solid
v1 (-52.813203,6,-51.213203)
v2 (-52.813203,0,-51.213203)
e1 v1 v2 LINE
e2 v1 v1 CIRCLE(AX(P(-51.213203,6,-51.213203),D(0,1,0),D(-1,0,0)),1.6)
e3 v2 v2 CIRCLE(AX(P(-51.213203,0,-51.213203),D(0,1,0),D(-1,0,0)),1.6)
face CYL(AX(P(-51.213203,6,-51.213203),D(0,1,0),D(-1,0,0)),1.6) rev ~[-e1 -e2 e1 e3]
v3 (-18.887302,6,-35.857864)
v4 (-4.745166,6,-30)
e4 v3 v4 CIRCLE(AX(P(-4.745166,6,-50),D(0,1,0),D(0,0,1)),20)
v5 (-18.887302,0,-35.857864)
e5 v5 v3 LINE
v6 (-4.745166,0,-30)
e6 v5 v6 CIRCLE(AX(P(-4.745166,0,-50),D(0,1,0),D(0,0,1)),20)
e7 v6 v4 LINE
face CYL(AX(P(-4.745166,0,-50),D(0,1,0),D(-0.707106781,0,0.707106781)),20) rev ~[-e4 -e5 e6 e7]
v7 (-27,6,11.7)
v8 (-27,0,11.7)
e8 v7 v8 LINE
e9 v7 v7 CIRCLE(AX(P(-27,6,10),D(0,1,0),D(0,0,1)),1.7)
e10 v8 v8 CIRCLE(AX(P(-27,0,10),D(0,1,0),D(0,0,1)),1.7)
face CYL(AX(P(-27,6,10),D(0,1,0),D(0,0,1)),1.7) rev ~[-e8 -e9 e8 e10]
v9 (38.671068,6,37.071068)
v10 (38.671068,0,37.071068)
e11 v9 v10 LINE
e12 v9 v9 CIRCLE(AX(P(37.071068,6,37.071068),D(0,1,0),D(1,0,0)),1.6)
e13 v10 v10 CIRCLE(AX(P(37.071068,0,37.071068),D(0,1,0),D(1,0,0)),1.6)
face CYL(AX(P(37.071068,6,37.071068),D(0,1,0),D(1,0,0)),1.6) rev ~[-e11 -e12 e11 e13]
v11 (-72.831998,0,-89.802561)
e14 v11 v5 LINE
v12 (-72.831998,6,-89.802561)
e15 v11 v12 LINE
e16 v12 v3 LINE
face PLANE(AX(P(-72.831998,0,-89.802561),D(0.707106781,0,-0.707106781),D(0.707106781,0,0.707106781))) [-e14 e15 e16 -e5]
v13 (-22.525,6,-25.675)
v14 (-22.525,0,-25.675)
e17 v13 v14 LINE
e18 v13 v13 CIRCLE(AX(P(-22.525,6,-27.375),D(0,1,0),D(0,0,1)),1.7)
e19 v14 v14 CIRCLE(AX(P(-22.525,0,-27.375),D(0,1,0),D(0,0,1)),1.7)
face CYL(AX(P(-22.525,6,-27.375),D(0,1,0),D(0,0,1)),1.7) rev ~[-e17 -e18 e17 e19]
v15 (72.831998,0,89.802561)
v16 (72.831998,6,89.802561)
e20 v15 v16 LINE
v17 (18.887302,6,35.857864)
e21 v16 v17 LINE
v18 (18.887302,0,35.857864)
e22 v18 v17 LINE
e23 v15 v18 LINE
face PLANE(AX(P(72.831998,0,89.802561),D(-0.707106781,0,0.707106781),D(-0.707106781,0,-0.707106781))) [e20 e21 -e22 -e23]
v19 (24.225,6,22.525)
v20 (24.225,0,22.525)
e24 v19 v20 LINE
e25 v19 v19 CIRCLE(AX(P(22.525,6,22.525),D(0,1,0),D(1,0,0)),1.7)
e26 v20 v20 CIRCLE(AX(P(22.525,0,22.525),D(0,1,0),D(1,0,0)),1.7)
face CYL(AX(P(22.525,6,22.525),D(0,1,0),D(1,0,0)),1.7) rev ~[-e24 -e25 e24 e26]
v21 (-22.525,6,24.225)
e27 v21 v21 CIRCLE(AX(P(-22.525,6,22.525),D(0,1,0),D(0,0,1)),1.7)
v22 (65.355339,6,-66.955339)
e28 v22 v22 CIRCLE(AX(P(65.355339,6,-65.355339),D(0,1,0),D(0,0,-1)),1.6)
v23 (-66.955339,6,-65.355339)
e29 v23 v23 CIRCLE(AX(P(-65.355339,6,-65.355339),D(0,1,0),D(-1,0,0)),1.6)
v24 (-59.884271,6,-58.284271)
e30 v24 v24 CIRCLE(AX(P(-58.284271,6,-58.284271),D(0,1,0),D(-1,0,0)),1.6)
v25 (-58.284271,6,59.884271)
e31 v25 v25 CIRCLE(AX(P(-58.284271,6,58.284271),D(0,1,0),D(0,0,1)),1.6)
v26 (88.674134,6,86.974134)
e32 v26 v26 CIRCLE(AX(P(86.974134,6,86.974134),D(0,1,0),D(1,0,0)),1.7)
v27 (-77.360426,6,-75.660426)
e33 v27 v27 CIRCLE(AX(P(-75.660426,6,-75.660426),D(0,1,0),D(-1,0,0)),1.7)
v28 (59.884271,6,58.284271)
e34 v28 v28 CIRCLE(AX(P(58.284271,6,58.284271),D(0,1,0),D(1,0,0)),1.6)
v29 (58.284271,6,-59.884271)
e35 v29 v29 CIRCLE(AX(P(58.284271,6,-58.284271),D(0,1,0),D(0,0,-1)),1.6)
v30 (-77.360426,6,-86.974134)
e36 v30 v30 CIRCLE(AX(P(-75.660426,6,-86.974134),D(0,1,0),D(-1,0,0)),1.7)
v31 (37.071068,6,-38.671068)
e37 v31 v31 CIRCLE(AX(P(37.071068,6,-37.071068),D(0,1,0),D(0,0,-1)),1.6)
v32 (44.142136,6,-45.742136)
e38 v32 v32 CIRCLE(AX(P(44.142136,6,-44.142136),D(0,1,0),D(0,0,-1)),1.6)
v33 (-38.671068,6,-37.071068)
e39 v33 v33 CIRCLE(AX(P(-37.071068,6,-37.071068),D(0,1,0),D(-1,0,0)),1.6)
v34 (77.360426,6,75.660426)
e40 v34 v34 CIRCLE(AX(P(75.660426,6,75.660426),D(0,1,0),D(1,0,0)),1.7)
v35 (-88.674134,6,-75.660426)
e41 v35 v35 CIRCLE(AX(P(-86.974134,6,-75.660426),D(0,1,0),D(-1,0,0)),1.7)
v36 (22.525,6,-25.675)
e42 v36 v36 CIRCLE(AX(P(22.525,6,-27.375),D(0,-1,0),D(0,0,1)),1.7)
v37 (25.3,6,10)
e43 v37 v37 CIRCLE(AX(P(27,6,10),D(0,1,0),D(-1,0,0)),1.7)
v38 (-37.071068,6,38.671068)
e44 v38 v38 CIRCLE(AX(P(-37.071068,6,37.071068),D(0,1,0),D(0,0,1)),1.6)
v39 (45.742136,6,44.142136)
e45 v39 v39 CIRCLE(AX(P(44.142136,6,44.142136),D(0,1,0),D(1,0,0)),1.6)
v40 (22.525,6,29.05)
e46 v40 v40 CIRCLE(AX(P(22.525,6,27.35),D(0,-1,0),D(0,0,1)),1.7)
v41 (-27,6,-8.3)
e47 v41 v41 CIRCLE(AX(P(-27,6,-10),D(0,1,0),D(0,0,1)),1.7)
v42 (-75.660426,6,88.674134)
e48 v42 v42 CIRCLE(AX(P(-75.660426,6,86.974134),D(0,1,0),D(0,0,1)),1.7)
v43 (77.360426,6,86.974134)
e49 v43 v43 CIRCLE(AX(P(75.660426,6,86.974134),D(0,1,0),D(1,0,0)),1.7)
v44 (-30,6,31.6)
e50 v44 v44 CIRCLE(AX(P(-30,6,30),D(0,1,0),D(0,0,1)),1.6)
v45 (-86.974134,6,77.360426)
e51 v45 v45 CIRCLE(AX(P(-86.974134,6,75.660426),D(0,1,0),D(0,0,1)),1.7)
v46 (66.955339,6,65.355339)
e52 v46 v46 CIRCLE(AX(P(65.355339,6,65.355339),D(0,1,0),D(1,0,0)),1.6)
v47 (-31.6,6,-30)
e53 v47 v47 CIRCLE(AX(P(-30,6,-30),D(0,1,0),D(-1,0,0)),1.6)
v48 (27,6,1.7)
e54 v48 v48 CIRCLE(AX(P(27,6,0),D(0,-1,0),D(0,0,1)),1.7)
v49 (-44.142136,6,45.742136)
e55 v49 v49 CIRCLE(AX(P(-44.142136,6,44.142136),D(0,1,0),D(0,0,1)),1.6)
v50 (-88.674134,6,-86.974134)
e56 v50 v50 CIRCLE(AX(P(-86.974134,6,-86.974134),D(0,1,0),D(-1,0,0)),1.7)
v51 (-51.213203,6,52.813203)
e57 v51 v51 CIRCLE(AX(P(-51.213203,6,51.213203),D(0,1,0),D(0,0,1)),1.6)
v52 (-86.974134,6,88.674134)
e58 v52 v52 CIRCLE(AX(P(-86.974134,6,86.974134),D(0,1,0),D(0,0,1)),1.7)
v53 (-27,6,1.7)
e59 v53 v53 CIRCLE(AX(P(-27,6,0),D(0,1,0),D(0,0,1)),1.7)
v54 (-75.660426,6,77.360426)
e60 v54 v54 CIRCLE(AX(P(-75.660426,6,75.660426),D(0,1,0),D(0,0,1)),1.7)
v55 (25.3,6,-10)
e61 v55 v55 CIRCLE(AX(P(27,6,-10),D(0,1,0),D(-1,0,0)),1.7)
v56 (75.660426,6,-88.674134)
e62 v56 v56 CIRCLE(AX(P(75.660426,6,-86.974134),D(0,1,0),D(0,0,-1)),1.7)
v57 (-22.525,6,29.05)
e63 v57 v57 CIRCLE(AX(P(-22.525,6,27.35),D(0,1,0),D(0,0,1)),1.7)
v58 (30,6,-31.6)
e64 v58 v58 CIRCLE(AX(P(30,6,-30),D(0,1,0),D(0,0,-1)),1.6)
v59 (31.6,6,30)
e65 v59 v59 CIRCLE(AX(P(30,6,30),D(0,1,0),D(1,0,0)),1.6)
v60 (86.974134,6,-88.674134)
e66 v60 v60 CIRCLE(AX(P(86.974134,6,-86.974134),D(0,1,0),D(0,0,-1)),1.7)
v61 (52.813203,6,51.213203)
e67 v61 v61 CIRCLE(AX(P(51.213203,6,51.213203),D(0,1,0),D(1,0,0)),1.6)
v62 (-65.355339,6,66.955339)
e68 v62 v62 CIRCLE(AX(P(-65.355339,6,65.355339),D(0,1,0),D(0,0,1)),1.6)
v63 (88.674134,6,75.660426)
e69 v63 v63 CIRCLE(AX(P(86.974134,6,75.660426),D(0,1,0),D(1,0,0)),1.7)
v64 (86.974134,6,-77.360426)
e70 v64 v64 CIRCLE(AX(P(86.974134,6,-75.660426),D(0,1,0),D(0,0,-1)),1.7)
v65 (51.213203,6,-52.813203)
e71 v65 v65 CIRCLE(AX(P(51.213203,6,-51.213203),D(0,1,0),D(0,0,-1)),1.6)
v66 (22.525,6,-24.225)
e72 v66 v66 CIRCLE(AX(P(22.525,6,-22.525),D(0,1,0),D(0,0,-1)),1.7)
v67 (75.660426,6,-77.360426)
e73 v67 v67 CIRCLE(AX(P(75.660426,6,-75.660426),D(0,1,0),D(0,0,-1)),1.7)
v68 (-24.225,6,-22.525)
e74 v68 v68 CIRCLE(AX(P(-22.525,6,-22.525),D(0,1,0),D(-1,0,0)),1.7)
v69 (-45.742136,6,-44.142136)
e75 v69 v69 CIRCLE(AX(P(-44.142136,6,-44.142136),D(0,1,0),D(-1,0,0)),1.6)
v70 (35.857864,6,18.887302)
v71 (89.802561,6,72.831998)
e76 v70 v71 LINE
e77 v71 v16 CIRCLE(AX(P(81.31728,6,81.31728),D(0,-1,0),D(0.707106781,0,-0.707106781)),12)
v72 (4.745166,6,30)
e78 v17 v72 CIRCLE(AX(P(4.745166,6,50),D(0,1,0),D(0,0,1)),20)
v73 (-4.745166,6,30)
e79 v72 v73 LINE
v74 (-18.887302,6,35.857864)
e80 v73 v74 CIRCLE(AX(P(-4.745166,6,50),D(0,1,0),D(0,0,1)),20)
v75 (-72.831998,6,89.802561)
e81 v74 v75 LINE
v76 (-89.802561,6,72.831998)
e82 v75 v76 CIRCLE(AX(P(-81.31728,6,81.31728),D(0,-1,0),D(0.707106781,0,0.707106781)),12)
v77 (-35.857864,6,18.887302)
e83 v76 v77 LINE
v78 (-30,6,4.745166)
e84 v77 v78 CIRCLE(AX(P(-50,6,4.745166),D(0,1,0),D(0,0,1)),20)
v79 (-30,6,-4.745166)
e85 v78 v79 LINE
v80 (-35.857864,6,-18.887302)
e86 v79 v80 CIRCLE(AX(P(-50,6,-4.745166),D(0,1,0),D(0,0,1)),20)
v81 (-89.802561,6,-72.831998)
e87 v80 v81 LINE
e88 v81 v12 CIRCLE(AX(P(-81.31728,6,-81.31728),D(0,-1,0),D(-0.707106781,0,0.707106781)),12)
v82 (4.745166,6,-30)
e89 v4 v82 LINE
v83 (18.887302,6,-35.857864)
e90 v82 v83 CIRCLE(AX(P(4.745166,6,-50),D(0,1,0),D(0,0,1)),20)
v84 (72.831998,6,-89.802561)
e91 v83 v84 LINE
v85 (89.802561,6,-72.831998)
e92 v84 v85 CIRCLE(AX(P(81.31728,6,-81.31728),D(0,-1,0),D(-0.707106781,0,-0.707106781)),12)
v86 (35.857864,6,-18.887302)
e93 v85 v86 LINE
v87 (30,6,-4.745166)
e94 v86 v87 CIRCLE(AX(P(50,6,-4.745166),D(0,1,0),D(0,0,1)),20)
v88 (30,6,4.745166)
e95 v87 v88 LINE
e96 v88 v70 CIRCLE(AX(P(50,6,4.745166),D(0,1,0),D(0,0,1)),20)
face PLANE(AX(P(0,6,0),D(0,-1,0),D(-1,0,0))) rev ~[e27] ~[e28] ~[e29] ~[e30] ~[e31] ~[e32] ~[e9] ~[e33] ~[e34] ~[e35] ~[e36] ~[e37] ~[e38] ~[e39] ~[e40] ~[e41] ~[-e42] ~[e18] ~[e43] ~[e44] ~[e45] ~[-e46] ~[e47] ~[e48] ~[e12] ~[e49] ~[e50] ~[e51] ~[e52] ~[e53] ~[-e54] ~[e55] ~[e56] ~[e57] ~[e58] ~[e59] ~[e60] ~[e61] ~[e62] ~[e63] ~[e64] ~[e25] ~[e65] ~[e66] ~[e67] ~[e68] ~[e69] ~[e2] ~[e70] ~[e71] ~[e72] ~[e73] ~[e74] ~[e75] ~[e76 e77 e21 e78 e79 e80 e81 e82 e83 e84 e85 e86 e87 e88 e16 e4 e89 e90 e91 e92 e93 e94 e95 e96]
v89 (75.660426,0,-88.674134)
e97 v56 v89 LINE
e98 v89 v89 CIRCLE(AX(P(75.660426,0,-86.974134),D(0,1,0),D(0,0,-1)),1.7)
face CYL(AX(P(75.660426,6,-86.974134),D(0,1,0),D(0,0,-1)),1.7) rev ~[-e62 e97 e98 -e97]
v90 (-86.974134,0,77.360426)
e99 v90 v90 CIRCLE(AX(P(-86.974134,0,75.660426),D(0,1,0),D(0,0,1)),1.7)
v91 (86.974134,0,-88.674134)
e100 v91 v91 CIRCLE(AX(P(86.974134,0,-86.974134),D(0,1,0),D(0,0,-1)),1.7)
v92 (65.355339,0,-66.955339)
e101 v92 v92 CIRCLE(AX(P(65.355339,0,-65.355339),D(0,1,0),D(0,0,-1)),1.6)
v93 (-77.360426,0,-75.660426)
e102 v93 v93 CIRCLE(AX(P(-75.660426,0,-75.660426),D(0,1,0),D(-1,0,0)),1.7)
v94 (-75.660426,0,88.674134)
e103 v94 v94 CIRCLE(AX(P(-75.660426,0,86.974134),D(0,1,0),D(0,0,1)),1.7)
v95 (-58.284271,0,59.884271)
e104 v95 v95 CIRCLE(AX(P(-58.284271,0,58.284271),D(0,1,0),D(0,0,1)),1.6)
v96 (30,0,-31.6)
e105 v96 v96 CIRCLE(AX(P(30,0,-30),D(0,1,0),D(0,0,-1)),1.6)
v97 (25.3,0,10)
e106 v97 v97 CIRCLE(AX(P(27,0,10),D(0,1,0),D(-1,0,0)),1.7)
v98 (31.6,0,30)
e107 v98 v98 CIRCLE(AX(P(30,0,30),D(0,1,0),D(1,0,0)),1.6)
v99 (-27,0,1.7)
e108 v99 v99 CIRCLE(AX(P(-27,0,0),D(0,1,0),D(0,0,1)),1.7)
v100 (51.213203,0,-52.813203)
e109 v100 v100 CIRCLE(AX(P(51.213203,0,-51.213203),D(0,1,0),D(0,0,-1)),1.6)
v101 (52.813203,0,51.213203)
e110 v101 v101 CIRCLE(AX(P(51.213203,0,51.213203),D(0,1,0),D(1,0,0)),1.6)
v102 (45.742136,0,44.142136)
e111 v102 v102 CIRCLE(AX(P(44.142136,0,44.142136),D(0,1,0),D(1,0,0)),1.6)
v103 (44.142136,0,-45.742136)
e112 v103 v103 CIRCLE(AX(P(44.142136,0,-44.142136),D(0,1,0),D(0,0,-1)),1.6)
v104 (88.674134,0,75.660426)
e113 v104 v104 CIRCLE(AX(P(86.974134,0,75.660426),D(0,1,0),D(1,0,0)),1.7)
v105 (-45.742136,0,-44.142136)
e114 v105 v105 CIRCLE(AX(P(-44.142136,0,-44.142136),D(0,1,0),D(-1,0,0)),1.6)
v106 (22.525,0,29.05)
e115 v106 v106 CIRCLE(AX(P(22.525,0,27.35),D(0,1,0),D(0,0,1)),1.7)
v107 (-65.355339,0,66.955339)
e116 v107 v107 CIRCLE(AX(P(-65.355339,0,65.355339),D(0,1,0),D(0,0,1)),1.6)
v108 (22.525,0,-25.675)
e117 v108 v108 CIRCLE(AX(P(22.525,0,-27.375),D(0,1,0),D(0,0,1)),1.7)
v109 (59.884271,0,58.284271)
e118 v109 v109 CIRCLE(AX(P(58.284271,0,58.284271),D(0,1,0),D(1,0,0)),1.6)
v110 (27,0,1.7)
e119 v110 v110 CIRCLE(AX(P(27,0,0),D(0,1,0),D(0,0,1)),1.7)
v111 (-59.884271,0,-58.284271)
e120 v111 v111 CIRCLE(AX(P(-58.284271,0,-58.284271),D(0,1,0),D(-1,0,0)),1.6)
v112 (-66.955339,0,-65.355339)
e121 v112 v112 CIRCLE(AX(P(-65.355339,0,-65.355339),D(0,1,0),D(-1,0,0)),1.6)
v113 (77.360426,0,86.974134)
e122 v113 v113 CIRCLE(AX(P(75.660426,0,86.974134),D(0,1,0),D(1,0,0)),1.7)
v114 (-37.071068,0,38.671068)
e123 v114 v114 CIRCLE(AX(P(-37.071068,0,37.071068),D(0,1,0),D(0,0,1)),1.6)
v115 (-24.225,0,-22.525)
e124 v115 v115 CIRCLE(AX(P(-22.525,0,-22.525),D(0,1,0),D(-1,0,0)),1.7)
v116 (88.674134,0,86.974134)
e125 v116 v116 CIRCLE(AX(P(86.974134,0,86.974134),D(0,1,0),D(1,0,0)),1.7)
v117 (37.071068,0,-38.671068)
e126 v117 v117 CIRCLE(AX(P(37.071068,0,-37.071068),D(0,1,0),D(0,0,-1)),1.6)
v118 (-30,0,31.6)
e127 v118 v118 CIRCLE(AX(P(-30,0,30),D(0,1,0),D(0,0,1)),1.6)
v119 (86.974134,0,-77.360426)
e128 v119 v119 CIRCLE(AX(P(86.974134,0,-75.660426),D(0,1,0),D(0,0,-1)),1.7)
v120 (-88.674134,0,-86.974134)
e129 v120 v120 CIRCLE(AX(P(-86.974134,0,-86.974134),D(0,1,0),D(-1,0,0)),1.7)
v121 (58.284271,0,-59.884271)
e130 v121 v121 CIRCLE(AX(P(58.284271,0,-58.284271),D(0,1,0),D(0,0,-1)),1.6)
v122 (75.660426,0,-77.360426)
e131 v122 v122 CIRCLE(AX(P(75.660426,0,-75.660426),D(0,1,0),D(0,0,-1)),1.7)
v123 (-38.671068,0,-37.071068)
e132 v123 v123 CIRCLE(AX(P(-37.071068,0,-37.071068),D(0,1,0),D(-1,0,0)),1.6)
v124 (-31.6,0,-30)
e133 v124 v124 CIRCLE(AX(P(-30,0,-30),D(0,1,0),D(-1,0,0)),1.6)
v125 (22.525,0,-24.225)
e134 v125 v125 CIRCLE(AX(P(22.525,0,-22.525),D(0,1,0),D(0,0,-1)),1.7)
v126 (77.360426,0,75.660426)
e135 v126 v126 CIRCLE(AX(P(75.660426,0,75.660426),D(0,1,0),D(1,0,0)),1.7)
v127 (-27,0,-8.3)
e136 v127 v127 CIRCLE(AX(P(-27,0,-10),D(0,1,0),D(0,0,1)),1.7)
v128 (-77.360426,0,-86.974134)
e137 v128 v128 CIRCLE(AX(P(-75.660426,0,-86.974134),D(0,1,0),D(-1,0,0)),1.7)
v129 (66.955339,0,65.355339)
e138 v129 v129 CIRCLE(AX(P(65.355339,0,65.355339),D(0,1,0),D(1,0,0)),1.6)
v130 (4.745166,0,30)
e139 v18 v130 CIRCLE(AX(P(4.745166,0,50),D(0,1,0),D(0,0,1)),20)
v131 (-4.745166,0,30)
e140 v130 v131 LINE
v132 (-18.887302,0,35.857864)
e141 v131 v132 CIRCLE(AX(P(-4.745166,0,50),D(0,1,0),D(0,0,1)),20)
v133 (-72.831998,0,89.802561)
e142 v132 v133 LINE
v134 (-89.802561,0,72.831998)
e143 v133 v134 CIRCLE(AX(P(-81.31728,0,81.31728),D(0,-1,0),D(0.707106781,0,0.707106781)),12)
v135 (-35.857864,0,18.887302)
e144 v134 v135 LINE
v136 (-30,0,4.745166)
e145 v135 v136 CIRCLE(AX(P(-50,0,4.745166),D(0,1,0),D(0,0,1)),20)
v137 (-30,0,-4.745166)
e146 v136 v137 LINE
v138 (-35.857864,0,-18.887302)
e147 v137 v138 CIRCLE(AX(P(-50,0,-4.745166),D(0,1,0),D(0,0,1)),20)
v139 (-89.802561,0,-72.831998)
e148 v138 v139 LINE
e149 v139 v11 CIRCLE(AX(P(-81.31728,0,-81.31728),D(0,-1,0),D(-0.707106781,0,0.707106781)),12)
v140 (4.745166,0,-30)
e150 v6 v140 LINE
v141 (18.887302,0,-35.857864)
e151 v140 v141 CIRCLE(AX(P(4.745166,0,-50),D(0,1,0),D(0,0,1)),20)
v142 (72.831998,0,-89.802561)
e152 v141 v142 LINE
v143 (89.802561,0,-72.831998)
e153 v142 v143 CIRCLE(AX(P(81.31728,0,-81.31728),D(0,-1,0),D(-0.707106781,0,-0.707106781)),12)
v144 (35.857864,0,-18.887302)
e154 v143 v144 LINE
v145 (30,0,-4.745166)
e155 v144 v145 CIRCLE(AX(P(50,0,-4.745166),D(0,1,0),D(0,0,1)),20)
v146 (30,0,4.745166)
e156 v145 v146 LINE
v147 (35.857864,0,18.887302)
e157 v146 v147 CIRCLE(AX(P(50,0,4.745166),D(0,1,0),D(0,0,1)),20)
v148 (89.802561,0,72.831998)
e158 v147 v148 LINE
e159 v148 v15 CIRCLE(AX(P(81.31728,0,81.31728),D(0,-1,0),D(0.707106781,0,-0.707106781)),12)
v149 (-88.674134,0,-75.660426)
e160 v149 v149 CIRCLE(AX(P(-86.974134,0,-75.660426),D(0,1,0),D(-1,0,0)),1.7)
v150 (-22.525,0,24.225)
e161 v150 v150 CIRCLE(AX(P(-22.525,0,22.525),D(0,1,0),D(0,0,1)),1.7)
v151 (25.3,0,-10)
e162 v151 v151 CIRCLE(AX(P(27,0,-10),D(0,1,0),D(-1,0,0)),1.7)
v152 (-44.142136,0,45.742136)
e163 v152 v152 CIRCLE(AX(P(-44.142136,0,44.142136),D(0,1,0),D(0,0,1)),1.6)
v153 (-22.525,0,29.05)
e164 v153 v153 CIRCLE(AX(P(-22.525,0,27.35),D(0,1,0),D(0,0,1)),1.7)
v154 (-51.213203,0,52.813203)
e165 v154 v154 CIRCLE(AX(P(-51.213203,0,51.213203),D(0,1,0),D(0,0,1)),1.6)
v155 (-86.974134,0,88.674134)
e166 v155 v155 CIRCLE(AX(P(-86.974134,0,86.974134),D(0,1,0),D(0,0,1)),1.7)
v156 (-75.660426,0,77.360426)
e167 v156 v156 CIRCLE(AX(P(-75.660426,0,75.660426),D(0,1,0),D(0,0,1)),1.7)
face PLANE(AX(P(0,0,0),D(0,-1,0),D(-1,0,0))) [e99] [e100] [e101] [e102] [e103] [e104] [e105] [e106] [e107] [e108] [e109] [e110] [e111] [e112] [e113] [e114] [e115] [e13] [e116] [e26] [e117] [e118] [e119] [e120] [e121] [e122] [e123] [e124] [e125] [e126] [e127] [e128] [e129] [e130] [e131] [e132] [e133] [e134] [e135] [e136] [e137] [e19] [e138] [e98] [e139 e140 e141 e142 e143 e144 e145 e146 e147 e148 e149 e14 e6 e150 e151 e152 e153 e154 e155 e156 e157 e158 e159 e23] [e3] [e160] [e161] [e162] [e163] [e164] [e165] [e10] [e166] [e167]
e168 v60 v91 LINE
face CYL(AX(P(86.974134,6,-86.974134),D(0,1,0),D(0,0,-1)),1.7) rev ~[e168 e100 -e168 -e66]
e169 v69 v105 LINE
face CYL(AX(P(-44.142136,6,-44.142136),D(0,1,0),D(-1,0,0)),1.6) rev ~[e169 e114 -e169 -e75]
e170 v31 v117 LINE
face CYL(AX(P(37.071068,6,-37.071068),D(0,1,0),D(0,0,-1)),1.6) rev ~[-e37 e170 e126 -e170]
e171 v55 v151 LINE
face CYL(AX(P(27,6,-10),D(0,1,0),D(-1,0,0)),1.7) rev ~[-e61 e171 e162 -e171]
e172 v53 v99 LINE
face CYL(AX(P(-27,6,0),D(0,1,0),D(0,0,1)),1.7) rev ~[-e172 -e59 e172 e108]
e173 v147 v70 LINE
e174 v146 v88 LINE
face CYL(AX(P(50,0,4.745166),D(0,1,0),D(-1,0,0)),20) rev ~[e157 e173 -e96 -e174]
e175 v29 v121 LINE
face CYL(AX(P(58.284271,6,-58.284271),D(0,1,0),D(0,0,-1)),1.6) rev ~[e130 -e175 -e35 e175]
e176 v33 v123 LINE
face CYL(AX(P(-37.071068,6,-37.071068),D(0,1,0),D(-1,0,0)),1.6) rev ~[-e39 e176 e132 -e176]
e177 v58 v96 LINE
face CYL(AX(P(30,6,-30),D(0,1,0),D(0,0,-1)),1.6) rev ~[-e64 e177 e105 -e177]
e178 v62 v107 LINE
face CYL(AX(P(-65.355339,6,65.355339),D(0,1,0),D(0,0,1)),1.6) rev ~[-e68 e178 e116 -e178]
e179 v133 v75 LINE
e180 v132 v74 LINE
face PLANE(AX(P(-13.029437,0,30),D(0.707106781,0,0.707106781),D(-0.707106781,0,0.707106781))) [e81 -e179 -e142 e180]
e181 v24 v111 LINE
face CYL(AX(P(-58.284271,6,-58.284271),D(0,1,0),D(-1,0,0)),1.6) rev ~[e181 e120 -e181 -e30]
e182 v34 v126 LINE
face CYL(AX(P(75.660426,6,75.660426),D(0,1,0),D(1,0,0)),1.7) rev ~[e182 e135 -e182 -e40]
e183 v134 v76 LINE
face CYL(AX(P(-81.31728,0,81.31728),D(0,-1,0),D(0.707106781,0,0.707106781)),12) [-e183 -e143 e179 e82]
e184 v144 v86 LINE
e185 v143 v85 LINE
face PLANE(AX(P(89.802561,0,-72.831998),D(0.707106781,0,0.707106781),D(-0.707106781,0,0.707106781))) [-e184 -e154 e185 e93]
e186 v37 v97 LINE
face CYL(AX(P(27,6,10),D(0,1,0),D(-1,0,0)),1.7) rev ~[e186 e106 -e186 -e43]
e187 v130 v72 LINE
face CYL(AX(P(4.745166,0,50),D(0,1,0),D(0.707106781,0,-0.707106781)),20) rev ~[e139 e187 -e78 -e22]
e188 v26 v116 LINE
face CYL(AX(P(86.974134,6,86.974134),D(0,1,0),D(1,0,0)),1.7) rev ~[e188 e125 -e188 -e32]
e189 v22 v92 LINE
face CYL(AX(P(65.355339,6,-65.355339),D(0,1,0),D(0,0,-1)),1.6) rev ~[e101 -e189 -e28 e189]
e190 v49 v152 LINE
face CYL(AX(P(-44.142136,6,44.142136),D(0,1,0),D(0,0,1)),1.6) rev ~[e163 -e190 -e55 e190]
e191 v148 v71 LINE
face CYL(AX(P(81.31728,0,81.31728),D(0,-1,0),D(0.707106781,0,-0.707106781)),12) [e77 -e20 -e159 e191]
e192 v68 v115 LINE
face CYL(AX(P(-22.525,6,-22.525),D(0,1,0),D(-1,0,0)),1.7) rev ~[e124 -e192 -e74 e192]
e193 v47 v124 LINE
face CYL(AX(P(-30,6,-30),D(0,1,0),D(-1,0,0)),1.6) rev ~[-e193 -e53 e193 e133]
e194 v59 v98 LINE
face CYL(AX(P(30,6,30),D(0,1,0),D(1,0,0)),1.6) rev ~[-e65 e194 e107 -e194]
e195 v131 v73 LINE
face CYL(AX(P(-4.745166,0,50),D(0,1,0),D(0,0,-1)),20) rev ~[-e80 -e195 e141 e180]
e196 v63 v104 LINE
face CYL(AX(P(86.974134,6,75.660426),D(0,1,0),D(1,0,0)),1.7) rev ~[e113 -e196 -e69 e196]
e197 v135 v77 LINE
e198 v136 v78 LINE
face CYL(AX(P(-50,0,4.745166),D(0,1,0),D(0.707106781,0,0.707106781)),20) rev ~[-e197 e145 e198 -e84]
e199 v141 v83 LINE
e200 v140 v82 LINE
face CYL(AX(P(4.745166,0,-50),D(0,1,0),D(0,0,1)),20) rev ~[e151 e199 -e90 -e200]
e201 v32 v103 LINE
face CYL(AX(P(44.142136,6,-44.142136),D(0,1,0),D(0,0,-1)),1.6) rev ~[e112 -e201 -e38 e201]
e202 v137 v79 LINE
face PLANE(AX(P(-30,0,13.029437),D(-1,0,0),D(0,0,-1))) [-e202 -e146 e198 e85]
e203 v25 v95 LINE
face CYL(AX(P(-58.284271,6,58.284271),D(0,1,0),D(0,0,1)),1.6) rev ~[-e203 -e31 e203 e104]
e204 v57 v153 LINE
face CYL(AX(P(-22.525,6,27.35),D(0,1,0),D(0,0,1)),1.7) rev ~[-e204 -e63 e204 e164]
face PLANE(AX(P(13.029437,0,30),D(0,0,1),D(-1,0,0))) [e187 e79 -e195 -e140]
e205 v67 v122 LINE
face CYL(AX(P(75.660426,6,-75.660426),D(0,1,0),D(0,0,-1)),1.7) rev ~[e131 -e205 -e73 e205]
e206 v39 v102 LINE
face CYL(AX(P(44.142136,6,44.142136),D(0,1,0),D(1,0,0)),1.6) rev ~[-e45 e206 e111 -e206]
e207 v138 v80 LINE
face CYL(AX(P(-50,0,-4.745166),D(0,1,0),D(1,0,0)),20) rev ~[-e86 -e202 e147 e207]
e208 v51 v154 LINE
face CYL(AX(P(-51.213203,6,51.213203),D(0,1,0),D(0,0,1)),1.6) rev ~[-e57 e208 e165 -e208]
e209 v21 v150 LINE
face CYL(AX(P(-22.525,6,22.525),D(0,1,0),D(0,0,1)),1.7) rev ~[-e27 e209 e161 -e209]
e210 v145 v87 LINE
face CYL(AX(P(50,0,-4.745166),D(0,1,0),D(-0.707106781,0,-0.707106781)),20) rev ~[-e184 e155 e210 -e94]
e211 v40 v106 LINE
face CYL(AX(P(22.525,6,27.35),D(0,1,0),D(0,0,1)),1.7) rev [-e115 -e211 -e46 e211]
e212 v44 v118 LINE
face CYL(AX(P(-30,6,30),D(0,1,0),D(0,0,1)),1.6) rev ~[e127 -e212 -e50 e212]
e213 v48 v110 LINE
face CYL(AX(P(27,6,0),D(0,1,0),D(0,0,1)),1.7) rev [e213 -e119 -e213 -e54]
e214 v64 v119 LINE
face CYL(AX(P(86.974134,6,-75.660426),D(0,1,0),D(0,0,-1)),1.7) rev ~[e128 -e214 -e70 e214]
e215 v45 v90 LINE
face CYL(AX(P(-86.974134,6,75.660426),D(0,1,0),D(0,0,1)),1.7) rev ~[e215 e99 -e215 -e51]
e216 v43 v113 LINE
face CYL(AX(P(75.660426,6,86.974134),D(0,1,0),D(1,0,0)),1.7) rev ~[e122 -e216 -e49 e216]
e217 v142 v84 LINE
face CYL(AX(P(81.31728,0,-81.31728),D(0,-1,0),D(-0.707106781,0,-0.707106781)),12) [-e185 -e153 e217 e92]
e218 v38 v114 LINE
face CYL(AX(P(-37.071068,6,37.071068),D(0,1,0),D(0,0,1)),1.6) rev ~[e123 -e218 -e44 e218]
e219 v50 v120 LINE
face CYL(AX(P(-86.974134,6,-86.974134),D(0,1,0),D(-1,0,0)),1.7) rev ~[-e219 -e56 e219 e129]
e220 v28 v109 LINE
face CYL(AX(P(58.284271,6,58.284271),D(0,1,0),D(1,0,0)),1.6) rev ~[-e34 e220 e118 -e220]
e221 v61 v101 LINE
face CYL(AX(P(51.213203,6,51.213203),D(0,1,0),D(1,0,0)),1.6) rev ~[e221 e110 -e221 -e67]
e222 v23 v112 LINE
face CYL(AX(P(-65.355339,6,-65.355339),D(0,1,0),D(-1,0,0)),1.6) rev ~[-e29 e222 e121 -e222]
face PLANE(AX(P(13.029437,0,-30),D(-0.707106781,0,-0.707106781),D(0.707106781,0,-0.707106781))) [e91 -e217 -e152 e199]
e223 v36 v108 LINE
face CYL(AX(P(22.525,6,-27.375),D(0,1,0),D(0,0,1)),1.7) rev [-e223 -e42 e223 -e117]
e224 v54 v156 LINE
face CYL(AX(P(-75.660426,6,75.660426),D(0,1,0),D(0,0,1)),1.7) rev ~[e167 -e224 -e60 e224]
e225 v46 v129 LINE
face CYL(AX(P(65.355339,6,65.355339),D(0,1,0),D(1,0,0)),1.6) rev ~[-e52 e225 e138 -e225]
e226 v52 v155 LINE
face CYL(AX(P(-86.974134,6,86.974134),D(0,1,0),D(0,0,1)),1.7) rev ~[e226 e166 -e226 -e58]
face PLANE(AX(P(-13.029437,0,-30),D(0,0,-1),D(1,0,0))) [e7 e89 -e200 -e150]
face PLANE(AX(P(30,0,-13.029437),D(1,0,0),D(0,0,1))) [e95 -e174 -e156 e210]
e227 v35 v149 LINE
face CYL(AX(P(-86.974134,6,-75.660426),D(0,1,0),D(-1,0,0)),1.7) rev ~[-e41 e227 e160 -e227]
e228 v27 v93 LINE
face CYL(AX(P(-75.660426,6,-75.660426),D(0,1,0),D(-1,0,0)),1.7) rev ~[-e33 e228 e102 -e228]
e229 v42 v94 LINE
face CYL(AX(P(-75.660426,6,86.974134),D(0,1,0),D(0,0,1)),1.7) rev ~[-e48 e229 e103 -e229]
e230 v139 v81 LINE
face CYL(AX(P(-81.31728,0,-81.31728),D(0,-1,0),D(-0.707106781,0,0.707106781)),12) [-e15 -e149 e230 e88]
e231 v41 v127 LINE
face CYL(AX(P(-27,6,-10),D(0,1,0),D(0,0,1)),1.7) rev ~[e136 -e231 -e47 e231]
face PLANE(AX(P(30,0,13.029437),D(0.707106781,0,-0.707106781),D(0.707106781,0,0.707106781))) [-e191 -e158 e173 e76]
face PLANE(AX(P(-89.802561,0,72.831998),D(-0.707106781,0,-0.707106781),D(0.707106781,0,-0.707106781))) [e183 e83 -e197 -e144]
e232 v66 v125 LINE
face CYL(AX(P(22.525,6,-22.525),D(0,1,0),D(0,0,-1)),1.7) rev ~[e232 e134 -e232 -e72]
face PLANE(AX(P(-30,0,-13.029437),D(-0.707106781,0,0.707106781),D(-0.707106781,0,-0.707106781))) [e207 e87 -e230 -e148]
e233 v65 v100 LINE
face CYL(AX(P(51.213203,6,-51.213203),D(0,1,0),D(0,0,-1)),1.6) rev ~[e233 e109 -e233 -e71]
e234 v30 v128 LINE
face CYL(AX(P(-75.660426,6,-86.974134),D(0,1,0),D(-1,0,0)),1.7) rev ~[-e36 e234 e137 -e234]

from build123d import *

# Parameters (mm, degrees)
BOSS_EXTRUDE1_DEPTH          = 6
FILLET1_R                    = 20
SKETCH2_R                    = 1.7
CUT_EXTRUDE1_DEPTH           = 133.106886392
CIRPATTERN1_COUNT            = 4
SKETCH3_R                    = 1.6
CUT_EXTRUDE2_DEPTH           = 133.106886392
LPATTERN1_COUNT              = 6
LPATTERN1_PITCH              = 10
CIRPATTERN2_COUNT            = 4
CIRPATTERN2_COPY_1_SKETCH_R  = 1.6
CIRPATTERN2_COPY_1_DEPTH     = 133.106886392
CIRPATTERN2_COPY_2_SKETCH_R  = 1.6
CIRPATTERN2_COPY_2_DEPTH     = 133.106886392
CIRPATTERN2_COPY_3_SKETCH_R  = 1.6
CIRPATTERN2_COPY_3_DEPTH     = 133.106886392
CIRPATTERN2_COPY_4_SKETCH_R  = 1.6
CIRPATTERN2_COPY_4_DEPTH     = 133.106886392
CIRPATTERN2_COPY_5_SKETCH_R  = 1.6
CIRPATTERN2_COPY_5_DEPTH     = 133.106886392
CIRPATTERN2_COPY_6_SKETCH_R  = 1.6
CIRPATTERN2_COPY_6_DEPTH     = 133.106886392
CIRPATTERN2_COPY_7_SKETCH_R  = 1.6
CIRPATTERN2_COPY_7_DEPTH     = 133.106886392
CIRPATTERN2_COPY_8_SKETCH_R  = 1.6
CIRPATTERN2_COPY_8_DEPTH     = 133.106886392
CIRPATTERN2_COPY_9_SKETCH_R  = 1.6
CIRPATTERN2_COPY_9_DEPTH     = 133.106886392
CIRPATTERN2_COPY_10_SKETCH_R = 1.6
CIRPATTERN2_COPY_10_DEPTH    = 133.106886392
CIRPATTERN2_COPY_11_SKETCH_R = 1.6
CIRPATTERN2_COPY_11_DEPTH    = 133.106886392
CIRPATTERN2_COPY_12_SKETCH_R = 1.6
CIRPATTERN2_COPY_12_DEPTH    = 133.106886392
CIRPATTERN2_COPY_13_SKETCH_R = 1.6
CIRPATTERN2_COPY_13_DEPTH    = 133.106886392
CIRPATTERN2_COPY_14_SKETCH_R = 1.6
CIRPATTERN2_COPY_14_DEPTH    = 133.106886392
CIRPATTERN2_COPY_15_SKETCH_R = 1.6
CIRPATTERN2_COPY_15_DEPTH    = 133.106886392
SKETCH4_R                    = 1.7
CUT_EXTRUDE3_DEPTH           = 133.106886392
CIRPATTERN3_COUNT            = 4
SKETCH5_R                    = 1.7
CUT_EXTRUDE4_DEPTH           = 133.106886392
SKETCH7_R                    = 1.7
CUT_EXTRUDE5_DEPTH           = 133.106886392
LPATTERN2_COUNT              = 2
LPATTERN2_PITCH              = 10
LPATTERN2_COL_COUNT          = 2
LPATTERN2_COL_PITCH          = 10
MIRROR2_COPY_1_SKETCH_R      = 1.7
MIRROR2_COPY_1_DEPTH         = 133.106886392
MIRROR2_COPY_2_SKETCH_R      = 1.7
MIRROR2_COPY_2_DEPTH         = 133.106886392


with BuildPart() as part:
    # Sketch1 → Boss-Extrude1 (new body)
    with BuildSketch(Plane(origin=(0, 0, 0), x_dir=(1, 0, 0), z_dir=(0, 1, 0))):
        with BuildLine():
            Line((-72.831998462, 89.802561211), (-13.029437252, 30))
            Line((-13.029437252, 30), (13.029437252, 30))
            Line((13.029437252, 30), (72.831998462, 89.802561211))
            ThreePointArc((72.831998462, 89.802561211), (89.802561211, 89.802561211), (89.802561211, 72.831998462))
            Line((89.802561211, 72.831998462), (30, 13.029437252))
            Line((30, 13.029437252), (30, -13.029437252))
            Line((30, -13.029437252), (89.802561211, -72.831998462))
            ThreePointArc((89.802561211, -72.831998462), (89.802561211, -89.802561211), (72.831998462, -89.802561211))
            Line((72.831998462, -89.802561211), (13.029437252, -30))
            Line((13.029437252, -30), (-13.029437252, -30))
            Line((-13.029437252, -30), (-72.831998462, -89.802561211))
            ThreePointArc((-72.831998462, -89.802561211), (-89.802561211, -89.802561211), (-89.802561211, -72.831998462))
            Line((-89.802561211, -72.831998462), (-30, -13.029437252))
            Line((-30, -13.029437252), (-30, 13.029437252))
            Line((-30, 13.029437252), (-89.802561211, 72.831998462))
            ThreePointArc((-89.802561211, 72.831998462), (-89.802561211, 89.802561211), (-72.831998462, 89.802561211))
        make_face()
    extrude(amount=BOSS_EXTRUDE1_DEPTH)

    # Fillet1
    fillet1_edges = [part.edges().sort_by_distance(p)[0] for p in [
        (-13.029437252, 3, -30),
        (13.029437252, 3, -30),
        (30, 3, -13.029437252),
        (30, 3, 13.029437252),
        (13.029437252, 3, 30),
        (-13.029437252, 3, 30),
        (-30, 3, 13.029437252),
        (-30, 3, -13.029437252),
    ]]
    fillet(fillet1_edges, radius=FILLET1_R)

    # Sketch2 → Cut-Extrude1 (cut, through all)
    with BuildSketch(Plane(origin=(0, 6, 0), x_dir=(1, 0, 0), z_dir=(0, 1, 0))):
        with Locations(Location((-22.525, -22.525, 0), (0, 0, 270))):
            Circle(SKETCH2_R)
    cut_extrude1 = extrude(amount=-CUT_EXTRUDE1_DEPTH, mode=Mode.SUBTRACT)

    # CirPattern1: Cut-Extrude1 ×4 about axis
    cirpattern1_axis = Axis((0, 0, 0), (0, 1, 0))
    for i in range(1, CIRPATTERN1_COUNT):
        add(cut_extrude1.rotate(cirpattern1_axis, i * 360 / CIRPATTERN1_COUNT), mode=Mode.SUBTRACT)

    # Sketch3 → Cut-Extrude2 (cut, through all)
    with BuildSketch(Plane(origin=(0, 6, 0), x_dir=(1, 0, 0), z_dir=(0, 1, 0))):
        with Locations(Location((-30, -30, 0), (0, 0, 270))):
            Circle(SKETCH3_R)
    cut_extrude2 = extrude(amount=-CUT_EXTRUDE2_DEPTH, mode=Mode.SUBTRACT)

    # LPattern1: Cut-Extrude2 ×6
    with Locations(*[Vector(-0.7071067811865467, 0, 0.7071067811865485) * (i * LPATTERN1_PITCH) for i in range(1, LPATTERN1_COUNT)]):
        add(cut_extrude2, mode=Mode.SUBTRACT)

    # CirPattern2: Cut-Extrude2 ×4 about axis
    cirpattern2_axis = Axis((0, 6.3, 0), (0, -1, 0))
    for i in range(1, CIRPATTERN2_COUNT):
        add(cut_extrude2.rotate(cirpattern2_axis, i * 360 / CIRPATTERN2_COUNT), mode=Mode.SUBTRACT)

    # CirPattern2 copy 1 sketch → CirPattern2 copy 1 (cut, through all)
    with BuildSketch(Plane(origin=(-7.071067812, 6, -7.071067812), x_dir=(0, 0, 1), z_dir=(0, 1, 0))):
        with Locations(Location((-30, -30, 0), (0, 0, 270))):
            Circle(CIRPATTERN2_COPY_1_SKETCH_R)
    extrude(amount=-CIRPATTERN2_COPY_1_DEPTH, mode=Mode.SUBTRACT)

    # CirPattern2 copy 2 sketch → CirPattern2 copy 2 (cut, through all)
    with BuildSketch(Plane(origin=(7.071067812, 6, -7.071067812), x_dir=(-1, 0, 0), z_dir=(0, 1, 0))):
        with Locations(Location((-30, -30, 0), (0, 0, 270))):
            Circle(CIRPATTERN2_COPY_2_SKETCH_R)
    extrude(amount=-CIRPATTERN2_COPY_2_DEPTH, mode=Mode.SUBTRACT)

    # CirPattern2 copy 3 sketch → CirPattern2 copy 3 (cut, through all)
    with BuildSketch(Plane(origin=(7.071067812, 6, 7.071067812), x_dir=(0, 0, -1), z_dir=(0, 1, 0))):
        with Locations(Location((-30, -30, 0), (0, 0, 270))):
            Circle(CIRPATTERN2_COPY_3_SKETCH_R)
    extrude(amount=-CIRPATTERN2_COPY_3_DEPTH, mode=Mode.SUBTRACT)

    # CirPattern2 copy 4 sketch → CirPattern2 copy 4 (cut, through all)
    with BuildSketch(Plane(origin=(-14.142135624, 6, -14.142135624), x_dir=(0, 0, 1), z_dir=(0, 1, 0))):
        with Locations(Location((-30, -30, 0), (0, 0, 270))):
            Circle(CIRPATTERN2_COPY_4_SKETCH_R)
    extrude(amount=-CIRPATTERN2_COPY_4_DEPTH, mode=Mode.SUBTRACT)

    # CirPattern2 copy 5 sketch → CirPattern2 copy 5 (cut, through all)
    with BuildSketch(Plane(origin=(14.142135624, 6, -14.142135624), x_dir=(-1, 0, 0), z_dir=(0, 1, 0))):
        with Locations(Location((-30, -30, 0), (0, 0, 270))):
            Circle(CIRPATTERN2_COPY_5_SKETCH_R)
    extrude(amount=-CIRPATTERN2_COPY_5_DEPTH, mode=Mode.SUBTRACT)

    # CirPattern2 copy 6 sketch → CirPattern2 copy 6 (cut, through all)
    with BuildSketch(Plane(origin=(14.142135624, 6, 14.142135624), x_dir=(0, 0, -1), z_dir=(0, 1, 0))):
        with Locations(Location((-30, -30, 0), (0, 0, 270))):
            Circle(CIRPATTERN2_COPY_6_SKETCH_R)
    extrude(amount=-CIRPATTERN2_COPY_6_DEPTH, mode=Mode.SUBTRACT)

    # CirPattern2 copy 7 sketch → CirPattern2 copy 7 (cut, through all)
    with BuildSketch(Plane(origin=(-21.213203436, 6, -21.213203436), x_dir=(0, 0, 1), z_dir=(0, 1, 0))):
        with Locations(Location((-30, -30, 0), (0, 0, 270))):
            Circle(CIRPATTERN2_COPY_7_SKETCH_R)
    extrude(amount=-CIRPATTERN2_COPY_7_DEPTH, mode=Mode.SUBTRACT)

    # CirPattern2 copy 8 sketch → CirPattern2 copy 8 (cut, through all)
    with BuildSketch(Plane(origin=(21.213203436, 6, -21.213203436), x_dir=(-1, 0, 0), z_dir=(0, 1, 0))):
        with Locations(Location((-30, -30, 0), (0, 0, 270))):
            Circle(CIRPATTERN2_COPY_8_SKETCH_R)
    extrude(amount=-CIRPATTERN2_COPY_8_DEPTH, mode=Mode.SUBTRACT)

    # CirPattern2 copy 9 sketch → CirPattern2 copy 9 (cut, through all)
    with BuildSketch(Plane(origin=(21.213203436, 6, 21.213203436), x_dir=(0, 0, -1), z_dir=(0, 1, 0))):
        with Locations(Location((-30, -30, 0), (0, 0, 270))):
            Circle(CIRPATTERN2_COPY_9_SKETCH_R)
    extrude(amount=-CIRPATTERN2_COPY_9_DEPTH, mode=Mode.SUBTRACT)

    # CirPattern2 copy 10 sketch → CirPattern2 copy 10 (cut, through all)
    with BuildSketch(Plane(origin=(-28.284271247, 6, -28.284271247), x_dir=(0, 0, 1), z_dir=(0, 1, 0))):
        with Locations(Location((-30, -30, 0), (0, 0, 270))):
            Circle(CIRPATTERN2_COPY_10_SKETCH_R)
    extrude(amount=-CIRPATTERN2_COPY_10_DEPTH, mode=Mode.SUBTRACT)

    # CirPattern2 copy 11 sketch → CirPattern2 copy 11 (cut, through all)
    with BuildSketch(Plane(origin=(28.284271247, 6, -28.284271247), x_dir=(-1, 0, 0), z_dir=(0, 1, 0))):
        with Locations(Location((-30, -30, 0), (0, 0, 270))):
            Circle(CIRPATTERN2_COPY_11_SKETCH_R)
    extrude(amount=-CIRPATTERN2_COPY_11_DEPTH, mode=Mode.SUBTRACT)

    # CirPattern2 copy 12 sketch → CirPattern2 copy 12 (cut, through all)
    with BuildSketch(Plane(origin=(28.284271247, 6, 28.284271247), x_dir=(0, 0, -1), z_dir=(0, 1, 0))):
        with Locations(Location((-30, -30, 0), (0, 0, 270))):
            Circle(CIRPATTERN2_COPY_12_SKETCH_R)
    extrude(amount=-CIRPATTERN2_COPY_12_DEPTH, mode=Mode.SUBTRACT)

    # CirPattern2 copy 13 sketch → CirPattern2 copy 13 (cut, through all)
    with BuildSketch(Plane(origin=(-35.355339059, 6, -35.355339059), x_dir=(0, 0, 1), z_dir=(0, 1, 0))):
        with Locations(Location((-30, -30, 0), (0, 0, 270))):
            Circle(CIRPATTERN2_COPY_13_SKETCH_R)
    extrude(amount=-CIRPATTERN2_COPY_13_DEPTH, mode=Mode.SUBTRACT)

    # CirPattern2 copy 14 sketch → CirPattern2 copy 14 (cut, through all)
    with BuildSketch(Plane(origin=(35.355339059, 6, -35.355339059), x_dir=(-1, 0, 0), z_dir=(0, 1, 0))):
        with Locations(Location((-30, -30, 0), (0, 0, 270))):
            Circle(CIRPATTERN2_COPY_14_SKETCH_R)
    extrude(amount=-CIRPATTERN2_COPY_14_DEPTH, mode=Mode.SUBTRACT)

    # CirPattern2 copy 15 sketch → CirPattern2 copy 15 (cut, through all)
    with BuildSketch(Plane(origin=(35.355339059, 6, 35.355339059), x_dir=(0, 0, -1), z_dir=(0, 1, 0))):
        with Locations(Location((-30, -30, 0), (0, 0, 270))):
            Circle(CIRPATTERN2_COPY_15_SKETCH_R)
    extrude(amount=-CIRPATTERN2_COPY_15_DEPTH, mode=Mode.SUBTRACT)

    # Sketch4 → Cut-Extrude3 (cut, through all)
    with BuildSketch(Plane(origin=(0, 6, 0), x_dir=(1, 0, 0), z_dir=(0, 1, 0))):
        with Locations(Location((-86.974134086, -86.974134086, 0), (0, 0, 270))):
            Circle(SKETCH4_R)
        with Locations(Location((-86.974134086, -75.660425587, 0), (0, 0, 270))):
            Circle(SKETCH4_R)
        with Locations(Location((-75.660425587, -75.660425587, 0), (0, 0, 270))):
            Circle(SKETCH4_R)
        with Locations(Location((-75.660425587, -86.974134086, 0), (0, 0, 270))):
            Circle(SKETCH4_R)
    cut_extrude3 = extrude(amount=-CUT_EXTRUDE3_DEPTH, mode=Mode.SUBTRACT)

    # CirPattern3: Cut-Extrude3 ×4 about axis
    cirpattern3_axis = Axis((0, 0, 0), (0, 1, 0))
    for i in range(1, CIRPATTERN3_COUNT):
        add(cut_extrude3.rotate(cirpattern3_axis, i * 360 / CIRPATTERN3_COUNT), mode=Mode.SUBTRACT)

    # Sketch5 → Cut-Extrude4 (cut, through all)
    with BuildSketch(Plane(origin=(0, 6, 0), x_dir=(1, 0, 0), z_dir=(0, 1, 0))):
        with Locations(Location((-22.525, 27.375, 0), (0, 0, 270))):
            Circle(SKETCH5_R)
        with Locations(Location((-22.525, -27.35, 0), (0, 0, 270))):
            Circle(SKETCH5_R)
    cut_extrude4 = extrude(amount=-CUT_EXTRUDE4_DEPTH, mode=Mode.SUBTRACT)

    # Mirror1: Cut-Extrude4 across plane
    add(cut_extrude4.mirror(Plane(origin=(0, 0, 0), x_dir=(0, 0, 1), z_dir=(1, 0, 0))), mode=Mode.SUBTRACT)

    # Sketch7 → Cut-Extrude5 (cut, through all)
    with BuildSketch(Plane(origin=(0, 6, 0), x_dir=(1, 0, 0), z_dir=(0, 1, 0))):
        with Locations(Location((-27, 0, 0), (0, 0, 270))):
            Circle(SKETCH7_R)
    cut_extrude5 = extrude(amount=-CUT_EXTRUDE5_DEPTH, mode=Mode.SUBTRACT)

    # LPattern2: Cut-Extrude5 ×2
    with Locations(*[(0, 0, i * LPATTERN2_PITCH) for i in range(1, LPATTERN2_COUNT)]):
        add(cut_extrude5, mode=Mode.SUBTRACT)

    # LPattern2 col: Cut-Extrude5 ×2
    with Locations(*[(0, 0, -i * LPATTERN2_COL_PITCH) for i in range(1, LPATTERN2_COL_COUNT)]):
        add(cut_extrude5, mode=Mode.SUBTRACT)

    # Mirror2: Cut-Extrude5 across plane
    add(cut_extrude5.mirror(Plane(origin=(0, 0, 0), x_dir=(0, 0, 1), z_dir=(1, 0, 0))), mode=Mode.SUBTRACT)

    # Mirror2 copy 1 sketch → Mirror2 copy 1 (cut, through all)
    with BuildSketch(Plane(origin=(0, 6, 10), x_dir=(-1, 0, 0), z_dir=(0, 1, 0))):
        with Locations((-27, 0)):
            Circle(MIRROR2_COPY_1_SKETCH_R)
    extrude(amount=-MIRROR2_COPY_1_DEPTH, mode=Mode.SUBTRACT)

    # Mirror2 copy 2 sketch → Mirror2 copy 2 (cut, through all)
    with BuildSketch(Plane(origin=(0, 6, -10), x_dir=(-1, 0, 0), z_dir=(0, 1, 0))):
        with Locations((-27, 0)):
            Circle(MIRROR2_COPY_2_SKETCH_R)
    extrude(amount=-MIRROR2_COPY_2_DEPTH, mode=Mode.SUBTRACT)


solid = part.part
